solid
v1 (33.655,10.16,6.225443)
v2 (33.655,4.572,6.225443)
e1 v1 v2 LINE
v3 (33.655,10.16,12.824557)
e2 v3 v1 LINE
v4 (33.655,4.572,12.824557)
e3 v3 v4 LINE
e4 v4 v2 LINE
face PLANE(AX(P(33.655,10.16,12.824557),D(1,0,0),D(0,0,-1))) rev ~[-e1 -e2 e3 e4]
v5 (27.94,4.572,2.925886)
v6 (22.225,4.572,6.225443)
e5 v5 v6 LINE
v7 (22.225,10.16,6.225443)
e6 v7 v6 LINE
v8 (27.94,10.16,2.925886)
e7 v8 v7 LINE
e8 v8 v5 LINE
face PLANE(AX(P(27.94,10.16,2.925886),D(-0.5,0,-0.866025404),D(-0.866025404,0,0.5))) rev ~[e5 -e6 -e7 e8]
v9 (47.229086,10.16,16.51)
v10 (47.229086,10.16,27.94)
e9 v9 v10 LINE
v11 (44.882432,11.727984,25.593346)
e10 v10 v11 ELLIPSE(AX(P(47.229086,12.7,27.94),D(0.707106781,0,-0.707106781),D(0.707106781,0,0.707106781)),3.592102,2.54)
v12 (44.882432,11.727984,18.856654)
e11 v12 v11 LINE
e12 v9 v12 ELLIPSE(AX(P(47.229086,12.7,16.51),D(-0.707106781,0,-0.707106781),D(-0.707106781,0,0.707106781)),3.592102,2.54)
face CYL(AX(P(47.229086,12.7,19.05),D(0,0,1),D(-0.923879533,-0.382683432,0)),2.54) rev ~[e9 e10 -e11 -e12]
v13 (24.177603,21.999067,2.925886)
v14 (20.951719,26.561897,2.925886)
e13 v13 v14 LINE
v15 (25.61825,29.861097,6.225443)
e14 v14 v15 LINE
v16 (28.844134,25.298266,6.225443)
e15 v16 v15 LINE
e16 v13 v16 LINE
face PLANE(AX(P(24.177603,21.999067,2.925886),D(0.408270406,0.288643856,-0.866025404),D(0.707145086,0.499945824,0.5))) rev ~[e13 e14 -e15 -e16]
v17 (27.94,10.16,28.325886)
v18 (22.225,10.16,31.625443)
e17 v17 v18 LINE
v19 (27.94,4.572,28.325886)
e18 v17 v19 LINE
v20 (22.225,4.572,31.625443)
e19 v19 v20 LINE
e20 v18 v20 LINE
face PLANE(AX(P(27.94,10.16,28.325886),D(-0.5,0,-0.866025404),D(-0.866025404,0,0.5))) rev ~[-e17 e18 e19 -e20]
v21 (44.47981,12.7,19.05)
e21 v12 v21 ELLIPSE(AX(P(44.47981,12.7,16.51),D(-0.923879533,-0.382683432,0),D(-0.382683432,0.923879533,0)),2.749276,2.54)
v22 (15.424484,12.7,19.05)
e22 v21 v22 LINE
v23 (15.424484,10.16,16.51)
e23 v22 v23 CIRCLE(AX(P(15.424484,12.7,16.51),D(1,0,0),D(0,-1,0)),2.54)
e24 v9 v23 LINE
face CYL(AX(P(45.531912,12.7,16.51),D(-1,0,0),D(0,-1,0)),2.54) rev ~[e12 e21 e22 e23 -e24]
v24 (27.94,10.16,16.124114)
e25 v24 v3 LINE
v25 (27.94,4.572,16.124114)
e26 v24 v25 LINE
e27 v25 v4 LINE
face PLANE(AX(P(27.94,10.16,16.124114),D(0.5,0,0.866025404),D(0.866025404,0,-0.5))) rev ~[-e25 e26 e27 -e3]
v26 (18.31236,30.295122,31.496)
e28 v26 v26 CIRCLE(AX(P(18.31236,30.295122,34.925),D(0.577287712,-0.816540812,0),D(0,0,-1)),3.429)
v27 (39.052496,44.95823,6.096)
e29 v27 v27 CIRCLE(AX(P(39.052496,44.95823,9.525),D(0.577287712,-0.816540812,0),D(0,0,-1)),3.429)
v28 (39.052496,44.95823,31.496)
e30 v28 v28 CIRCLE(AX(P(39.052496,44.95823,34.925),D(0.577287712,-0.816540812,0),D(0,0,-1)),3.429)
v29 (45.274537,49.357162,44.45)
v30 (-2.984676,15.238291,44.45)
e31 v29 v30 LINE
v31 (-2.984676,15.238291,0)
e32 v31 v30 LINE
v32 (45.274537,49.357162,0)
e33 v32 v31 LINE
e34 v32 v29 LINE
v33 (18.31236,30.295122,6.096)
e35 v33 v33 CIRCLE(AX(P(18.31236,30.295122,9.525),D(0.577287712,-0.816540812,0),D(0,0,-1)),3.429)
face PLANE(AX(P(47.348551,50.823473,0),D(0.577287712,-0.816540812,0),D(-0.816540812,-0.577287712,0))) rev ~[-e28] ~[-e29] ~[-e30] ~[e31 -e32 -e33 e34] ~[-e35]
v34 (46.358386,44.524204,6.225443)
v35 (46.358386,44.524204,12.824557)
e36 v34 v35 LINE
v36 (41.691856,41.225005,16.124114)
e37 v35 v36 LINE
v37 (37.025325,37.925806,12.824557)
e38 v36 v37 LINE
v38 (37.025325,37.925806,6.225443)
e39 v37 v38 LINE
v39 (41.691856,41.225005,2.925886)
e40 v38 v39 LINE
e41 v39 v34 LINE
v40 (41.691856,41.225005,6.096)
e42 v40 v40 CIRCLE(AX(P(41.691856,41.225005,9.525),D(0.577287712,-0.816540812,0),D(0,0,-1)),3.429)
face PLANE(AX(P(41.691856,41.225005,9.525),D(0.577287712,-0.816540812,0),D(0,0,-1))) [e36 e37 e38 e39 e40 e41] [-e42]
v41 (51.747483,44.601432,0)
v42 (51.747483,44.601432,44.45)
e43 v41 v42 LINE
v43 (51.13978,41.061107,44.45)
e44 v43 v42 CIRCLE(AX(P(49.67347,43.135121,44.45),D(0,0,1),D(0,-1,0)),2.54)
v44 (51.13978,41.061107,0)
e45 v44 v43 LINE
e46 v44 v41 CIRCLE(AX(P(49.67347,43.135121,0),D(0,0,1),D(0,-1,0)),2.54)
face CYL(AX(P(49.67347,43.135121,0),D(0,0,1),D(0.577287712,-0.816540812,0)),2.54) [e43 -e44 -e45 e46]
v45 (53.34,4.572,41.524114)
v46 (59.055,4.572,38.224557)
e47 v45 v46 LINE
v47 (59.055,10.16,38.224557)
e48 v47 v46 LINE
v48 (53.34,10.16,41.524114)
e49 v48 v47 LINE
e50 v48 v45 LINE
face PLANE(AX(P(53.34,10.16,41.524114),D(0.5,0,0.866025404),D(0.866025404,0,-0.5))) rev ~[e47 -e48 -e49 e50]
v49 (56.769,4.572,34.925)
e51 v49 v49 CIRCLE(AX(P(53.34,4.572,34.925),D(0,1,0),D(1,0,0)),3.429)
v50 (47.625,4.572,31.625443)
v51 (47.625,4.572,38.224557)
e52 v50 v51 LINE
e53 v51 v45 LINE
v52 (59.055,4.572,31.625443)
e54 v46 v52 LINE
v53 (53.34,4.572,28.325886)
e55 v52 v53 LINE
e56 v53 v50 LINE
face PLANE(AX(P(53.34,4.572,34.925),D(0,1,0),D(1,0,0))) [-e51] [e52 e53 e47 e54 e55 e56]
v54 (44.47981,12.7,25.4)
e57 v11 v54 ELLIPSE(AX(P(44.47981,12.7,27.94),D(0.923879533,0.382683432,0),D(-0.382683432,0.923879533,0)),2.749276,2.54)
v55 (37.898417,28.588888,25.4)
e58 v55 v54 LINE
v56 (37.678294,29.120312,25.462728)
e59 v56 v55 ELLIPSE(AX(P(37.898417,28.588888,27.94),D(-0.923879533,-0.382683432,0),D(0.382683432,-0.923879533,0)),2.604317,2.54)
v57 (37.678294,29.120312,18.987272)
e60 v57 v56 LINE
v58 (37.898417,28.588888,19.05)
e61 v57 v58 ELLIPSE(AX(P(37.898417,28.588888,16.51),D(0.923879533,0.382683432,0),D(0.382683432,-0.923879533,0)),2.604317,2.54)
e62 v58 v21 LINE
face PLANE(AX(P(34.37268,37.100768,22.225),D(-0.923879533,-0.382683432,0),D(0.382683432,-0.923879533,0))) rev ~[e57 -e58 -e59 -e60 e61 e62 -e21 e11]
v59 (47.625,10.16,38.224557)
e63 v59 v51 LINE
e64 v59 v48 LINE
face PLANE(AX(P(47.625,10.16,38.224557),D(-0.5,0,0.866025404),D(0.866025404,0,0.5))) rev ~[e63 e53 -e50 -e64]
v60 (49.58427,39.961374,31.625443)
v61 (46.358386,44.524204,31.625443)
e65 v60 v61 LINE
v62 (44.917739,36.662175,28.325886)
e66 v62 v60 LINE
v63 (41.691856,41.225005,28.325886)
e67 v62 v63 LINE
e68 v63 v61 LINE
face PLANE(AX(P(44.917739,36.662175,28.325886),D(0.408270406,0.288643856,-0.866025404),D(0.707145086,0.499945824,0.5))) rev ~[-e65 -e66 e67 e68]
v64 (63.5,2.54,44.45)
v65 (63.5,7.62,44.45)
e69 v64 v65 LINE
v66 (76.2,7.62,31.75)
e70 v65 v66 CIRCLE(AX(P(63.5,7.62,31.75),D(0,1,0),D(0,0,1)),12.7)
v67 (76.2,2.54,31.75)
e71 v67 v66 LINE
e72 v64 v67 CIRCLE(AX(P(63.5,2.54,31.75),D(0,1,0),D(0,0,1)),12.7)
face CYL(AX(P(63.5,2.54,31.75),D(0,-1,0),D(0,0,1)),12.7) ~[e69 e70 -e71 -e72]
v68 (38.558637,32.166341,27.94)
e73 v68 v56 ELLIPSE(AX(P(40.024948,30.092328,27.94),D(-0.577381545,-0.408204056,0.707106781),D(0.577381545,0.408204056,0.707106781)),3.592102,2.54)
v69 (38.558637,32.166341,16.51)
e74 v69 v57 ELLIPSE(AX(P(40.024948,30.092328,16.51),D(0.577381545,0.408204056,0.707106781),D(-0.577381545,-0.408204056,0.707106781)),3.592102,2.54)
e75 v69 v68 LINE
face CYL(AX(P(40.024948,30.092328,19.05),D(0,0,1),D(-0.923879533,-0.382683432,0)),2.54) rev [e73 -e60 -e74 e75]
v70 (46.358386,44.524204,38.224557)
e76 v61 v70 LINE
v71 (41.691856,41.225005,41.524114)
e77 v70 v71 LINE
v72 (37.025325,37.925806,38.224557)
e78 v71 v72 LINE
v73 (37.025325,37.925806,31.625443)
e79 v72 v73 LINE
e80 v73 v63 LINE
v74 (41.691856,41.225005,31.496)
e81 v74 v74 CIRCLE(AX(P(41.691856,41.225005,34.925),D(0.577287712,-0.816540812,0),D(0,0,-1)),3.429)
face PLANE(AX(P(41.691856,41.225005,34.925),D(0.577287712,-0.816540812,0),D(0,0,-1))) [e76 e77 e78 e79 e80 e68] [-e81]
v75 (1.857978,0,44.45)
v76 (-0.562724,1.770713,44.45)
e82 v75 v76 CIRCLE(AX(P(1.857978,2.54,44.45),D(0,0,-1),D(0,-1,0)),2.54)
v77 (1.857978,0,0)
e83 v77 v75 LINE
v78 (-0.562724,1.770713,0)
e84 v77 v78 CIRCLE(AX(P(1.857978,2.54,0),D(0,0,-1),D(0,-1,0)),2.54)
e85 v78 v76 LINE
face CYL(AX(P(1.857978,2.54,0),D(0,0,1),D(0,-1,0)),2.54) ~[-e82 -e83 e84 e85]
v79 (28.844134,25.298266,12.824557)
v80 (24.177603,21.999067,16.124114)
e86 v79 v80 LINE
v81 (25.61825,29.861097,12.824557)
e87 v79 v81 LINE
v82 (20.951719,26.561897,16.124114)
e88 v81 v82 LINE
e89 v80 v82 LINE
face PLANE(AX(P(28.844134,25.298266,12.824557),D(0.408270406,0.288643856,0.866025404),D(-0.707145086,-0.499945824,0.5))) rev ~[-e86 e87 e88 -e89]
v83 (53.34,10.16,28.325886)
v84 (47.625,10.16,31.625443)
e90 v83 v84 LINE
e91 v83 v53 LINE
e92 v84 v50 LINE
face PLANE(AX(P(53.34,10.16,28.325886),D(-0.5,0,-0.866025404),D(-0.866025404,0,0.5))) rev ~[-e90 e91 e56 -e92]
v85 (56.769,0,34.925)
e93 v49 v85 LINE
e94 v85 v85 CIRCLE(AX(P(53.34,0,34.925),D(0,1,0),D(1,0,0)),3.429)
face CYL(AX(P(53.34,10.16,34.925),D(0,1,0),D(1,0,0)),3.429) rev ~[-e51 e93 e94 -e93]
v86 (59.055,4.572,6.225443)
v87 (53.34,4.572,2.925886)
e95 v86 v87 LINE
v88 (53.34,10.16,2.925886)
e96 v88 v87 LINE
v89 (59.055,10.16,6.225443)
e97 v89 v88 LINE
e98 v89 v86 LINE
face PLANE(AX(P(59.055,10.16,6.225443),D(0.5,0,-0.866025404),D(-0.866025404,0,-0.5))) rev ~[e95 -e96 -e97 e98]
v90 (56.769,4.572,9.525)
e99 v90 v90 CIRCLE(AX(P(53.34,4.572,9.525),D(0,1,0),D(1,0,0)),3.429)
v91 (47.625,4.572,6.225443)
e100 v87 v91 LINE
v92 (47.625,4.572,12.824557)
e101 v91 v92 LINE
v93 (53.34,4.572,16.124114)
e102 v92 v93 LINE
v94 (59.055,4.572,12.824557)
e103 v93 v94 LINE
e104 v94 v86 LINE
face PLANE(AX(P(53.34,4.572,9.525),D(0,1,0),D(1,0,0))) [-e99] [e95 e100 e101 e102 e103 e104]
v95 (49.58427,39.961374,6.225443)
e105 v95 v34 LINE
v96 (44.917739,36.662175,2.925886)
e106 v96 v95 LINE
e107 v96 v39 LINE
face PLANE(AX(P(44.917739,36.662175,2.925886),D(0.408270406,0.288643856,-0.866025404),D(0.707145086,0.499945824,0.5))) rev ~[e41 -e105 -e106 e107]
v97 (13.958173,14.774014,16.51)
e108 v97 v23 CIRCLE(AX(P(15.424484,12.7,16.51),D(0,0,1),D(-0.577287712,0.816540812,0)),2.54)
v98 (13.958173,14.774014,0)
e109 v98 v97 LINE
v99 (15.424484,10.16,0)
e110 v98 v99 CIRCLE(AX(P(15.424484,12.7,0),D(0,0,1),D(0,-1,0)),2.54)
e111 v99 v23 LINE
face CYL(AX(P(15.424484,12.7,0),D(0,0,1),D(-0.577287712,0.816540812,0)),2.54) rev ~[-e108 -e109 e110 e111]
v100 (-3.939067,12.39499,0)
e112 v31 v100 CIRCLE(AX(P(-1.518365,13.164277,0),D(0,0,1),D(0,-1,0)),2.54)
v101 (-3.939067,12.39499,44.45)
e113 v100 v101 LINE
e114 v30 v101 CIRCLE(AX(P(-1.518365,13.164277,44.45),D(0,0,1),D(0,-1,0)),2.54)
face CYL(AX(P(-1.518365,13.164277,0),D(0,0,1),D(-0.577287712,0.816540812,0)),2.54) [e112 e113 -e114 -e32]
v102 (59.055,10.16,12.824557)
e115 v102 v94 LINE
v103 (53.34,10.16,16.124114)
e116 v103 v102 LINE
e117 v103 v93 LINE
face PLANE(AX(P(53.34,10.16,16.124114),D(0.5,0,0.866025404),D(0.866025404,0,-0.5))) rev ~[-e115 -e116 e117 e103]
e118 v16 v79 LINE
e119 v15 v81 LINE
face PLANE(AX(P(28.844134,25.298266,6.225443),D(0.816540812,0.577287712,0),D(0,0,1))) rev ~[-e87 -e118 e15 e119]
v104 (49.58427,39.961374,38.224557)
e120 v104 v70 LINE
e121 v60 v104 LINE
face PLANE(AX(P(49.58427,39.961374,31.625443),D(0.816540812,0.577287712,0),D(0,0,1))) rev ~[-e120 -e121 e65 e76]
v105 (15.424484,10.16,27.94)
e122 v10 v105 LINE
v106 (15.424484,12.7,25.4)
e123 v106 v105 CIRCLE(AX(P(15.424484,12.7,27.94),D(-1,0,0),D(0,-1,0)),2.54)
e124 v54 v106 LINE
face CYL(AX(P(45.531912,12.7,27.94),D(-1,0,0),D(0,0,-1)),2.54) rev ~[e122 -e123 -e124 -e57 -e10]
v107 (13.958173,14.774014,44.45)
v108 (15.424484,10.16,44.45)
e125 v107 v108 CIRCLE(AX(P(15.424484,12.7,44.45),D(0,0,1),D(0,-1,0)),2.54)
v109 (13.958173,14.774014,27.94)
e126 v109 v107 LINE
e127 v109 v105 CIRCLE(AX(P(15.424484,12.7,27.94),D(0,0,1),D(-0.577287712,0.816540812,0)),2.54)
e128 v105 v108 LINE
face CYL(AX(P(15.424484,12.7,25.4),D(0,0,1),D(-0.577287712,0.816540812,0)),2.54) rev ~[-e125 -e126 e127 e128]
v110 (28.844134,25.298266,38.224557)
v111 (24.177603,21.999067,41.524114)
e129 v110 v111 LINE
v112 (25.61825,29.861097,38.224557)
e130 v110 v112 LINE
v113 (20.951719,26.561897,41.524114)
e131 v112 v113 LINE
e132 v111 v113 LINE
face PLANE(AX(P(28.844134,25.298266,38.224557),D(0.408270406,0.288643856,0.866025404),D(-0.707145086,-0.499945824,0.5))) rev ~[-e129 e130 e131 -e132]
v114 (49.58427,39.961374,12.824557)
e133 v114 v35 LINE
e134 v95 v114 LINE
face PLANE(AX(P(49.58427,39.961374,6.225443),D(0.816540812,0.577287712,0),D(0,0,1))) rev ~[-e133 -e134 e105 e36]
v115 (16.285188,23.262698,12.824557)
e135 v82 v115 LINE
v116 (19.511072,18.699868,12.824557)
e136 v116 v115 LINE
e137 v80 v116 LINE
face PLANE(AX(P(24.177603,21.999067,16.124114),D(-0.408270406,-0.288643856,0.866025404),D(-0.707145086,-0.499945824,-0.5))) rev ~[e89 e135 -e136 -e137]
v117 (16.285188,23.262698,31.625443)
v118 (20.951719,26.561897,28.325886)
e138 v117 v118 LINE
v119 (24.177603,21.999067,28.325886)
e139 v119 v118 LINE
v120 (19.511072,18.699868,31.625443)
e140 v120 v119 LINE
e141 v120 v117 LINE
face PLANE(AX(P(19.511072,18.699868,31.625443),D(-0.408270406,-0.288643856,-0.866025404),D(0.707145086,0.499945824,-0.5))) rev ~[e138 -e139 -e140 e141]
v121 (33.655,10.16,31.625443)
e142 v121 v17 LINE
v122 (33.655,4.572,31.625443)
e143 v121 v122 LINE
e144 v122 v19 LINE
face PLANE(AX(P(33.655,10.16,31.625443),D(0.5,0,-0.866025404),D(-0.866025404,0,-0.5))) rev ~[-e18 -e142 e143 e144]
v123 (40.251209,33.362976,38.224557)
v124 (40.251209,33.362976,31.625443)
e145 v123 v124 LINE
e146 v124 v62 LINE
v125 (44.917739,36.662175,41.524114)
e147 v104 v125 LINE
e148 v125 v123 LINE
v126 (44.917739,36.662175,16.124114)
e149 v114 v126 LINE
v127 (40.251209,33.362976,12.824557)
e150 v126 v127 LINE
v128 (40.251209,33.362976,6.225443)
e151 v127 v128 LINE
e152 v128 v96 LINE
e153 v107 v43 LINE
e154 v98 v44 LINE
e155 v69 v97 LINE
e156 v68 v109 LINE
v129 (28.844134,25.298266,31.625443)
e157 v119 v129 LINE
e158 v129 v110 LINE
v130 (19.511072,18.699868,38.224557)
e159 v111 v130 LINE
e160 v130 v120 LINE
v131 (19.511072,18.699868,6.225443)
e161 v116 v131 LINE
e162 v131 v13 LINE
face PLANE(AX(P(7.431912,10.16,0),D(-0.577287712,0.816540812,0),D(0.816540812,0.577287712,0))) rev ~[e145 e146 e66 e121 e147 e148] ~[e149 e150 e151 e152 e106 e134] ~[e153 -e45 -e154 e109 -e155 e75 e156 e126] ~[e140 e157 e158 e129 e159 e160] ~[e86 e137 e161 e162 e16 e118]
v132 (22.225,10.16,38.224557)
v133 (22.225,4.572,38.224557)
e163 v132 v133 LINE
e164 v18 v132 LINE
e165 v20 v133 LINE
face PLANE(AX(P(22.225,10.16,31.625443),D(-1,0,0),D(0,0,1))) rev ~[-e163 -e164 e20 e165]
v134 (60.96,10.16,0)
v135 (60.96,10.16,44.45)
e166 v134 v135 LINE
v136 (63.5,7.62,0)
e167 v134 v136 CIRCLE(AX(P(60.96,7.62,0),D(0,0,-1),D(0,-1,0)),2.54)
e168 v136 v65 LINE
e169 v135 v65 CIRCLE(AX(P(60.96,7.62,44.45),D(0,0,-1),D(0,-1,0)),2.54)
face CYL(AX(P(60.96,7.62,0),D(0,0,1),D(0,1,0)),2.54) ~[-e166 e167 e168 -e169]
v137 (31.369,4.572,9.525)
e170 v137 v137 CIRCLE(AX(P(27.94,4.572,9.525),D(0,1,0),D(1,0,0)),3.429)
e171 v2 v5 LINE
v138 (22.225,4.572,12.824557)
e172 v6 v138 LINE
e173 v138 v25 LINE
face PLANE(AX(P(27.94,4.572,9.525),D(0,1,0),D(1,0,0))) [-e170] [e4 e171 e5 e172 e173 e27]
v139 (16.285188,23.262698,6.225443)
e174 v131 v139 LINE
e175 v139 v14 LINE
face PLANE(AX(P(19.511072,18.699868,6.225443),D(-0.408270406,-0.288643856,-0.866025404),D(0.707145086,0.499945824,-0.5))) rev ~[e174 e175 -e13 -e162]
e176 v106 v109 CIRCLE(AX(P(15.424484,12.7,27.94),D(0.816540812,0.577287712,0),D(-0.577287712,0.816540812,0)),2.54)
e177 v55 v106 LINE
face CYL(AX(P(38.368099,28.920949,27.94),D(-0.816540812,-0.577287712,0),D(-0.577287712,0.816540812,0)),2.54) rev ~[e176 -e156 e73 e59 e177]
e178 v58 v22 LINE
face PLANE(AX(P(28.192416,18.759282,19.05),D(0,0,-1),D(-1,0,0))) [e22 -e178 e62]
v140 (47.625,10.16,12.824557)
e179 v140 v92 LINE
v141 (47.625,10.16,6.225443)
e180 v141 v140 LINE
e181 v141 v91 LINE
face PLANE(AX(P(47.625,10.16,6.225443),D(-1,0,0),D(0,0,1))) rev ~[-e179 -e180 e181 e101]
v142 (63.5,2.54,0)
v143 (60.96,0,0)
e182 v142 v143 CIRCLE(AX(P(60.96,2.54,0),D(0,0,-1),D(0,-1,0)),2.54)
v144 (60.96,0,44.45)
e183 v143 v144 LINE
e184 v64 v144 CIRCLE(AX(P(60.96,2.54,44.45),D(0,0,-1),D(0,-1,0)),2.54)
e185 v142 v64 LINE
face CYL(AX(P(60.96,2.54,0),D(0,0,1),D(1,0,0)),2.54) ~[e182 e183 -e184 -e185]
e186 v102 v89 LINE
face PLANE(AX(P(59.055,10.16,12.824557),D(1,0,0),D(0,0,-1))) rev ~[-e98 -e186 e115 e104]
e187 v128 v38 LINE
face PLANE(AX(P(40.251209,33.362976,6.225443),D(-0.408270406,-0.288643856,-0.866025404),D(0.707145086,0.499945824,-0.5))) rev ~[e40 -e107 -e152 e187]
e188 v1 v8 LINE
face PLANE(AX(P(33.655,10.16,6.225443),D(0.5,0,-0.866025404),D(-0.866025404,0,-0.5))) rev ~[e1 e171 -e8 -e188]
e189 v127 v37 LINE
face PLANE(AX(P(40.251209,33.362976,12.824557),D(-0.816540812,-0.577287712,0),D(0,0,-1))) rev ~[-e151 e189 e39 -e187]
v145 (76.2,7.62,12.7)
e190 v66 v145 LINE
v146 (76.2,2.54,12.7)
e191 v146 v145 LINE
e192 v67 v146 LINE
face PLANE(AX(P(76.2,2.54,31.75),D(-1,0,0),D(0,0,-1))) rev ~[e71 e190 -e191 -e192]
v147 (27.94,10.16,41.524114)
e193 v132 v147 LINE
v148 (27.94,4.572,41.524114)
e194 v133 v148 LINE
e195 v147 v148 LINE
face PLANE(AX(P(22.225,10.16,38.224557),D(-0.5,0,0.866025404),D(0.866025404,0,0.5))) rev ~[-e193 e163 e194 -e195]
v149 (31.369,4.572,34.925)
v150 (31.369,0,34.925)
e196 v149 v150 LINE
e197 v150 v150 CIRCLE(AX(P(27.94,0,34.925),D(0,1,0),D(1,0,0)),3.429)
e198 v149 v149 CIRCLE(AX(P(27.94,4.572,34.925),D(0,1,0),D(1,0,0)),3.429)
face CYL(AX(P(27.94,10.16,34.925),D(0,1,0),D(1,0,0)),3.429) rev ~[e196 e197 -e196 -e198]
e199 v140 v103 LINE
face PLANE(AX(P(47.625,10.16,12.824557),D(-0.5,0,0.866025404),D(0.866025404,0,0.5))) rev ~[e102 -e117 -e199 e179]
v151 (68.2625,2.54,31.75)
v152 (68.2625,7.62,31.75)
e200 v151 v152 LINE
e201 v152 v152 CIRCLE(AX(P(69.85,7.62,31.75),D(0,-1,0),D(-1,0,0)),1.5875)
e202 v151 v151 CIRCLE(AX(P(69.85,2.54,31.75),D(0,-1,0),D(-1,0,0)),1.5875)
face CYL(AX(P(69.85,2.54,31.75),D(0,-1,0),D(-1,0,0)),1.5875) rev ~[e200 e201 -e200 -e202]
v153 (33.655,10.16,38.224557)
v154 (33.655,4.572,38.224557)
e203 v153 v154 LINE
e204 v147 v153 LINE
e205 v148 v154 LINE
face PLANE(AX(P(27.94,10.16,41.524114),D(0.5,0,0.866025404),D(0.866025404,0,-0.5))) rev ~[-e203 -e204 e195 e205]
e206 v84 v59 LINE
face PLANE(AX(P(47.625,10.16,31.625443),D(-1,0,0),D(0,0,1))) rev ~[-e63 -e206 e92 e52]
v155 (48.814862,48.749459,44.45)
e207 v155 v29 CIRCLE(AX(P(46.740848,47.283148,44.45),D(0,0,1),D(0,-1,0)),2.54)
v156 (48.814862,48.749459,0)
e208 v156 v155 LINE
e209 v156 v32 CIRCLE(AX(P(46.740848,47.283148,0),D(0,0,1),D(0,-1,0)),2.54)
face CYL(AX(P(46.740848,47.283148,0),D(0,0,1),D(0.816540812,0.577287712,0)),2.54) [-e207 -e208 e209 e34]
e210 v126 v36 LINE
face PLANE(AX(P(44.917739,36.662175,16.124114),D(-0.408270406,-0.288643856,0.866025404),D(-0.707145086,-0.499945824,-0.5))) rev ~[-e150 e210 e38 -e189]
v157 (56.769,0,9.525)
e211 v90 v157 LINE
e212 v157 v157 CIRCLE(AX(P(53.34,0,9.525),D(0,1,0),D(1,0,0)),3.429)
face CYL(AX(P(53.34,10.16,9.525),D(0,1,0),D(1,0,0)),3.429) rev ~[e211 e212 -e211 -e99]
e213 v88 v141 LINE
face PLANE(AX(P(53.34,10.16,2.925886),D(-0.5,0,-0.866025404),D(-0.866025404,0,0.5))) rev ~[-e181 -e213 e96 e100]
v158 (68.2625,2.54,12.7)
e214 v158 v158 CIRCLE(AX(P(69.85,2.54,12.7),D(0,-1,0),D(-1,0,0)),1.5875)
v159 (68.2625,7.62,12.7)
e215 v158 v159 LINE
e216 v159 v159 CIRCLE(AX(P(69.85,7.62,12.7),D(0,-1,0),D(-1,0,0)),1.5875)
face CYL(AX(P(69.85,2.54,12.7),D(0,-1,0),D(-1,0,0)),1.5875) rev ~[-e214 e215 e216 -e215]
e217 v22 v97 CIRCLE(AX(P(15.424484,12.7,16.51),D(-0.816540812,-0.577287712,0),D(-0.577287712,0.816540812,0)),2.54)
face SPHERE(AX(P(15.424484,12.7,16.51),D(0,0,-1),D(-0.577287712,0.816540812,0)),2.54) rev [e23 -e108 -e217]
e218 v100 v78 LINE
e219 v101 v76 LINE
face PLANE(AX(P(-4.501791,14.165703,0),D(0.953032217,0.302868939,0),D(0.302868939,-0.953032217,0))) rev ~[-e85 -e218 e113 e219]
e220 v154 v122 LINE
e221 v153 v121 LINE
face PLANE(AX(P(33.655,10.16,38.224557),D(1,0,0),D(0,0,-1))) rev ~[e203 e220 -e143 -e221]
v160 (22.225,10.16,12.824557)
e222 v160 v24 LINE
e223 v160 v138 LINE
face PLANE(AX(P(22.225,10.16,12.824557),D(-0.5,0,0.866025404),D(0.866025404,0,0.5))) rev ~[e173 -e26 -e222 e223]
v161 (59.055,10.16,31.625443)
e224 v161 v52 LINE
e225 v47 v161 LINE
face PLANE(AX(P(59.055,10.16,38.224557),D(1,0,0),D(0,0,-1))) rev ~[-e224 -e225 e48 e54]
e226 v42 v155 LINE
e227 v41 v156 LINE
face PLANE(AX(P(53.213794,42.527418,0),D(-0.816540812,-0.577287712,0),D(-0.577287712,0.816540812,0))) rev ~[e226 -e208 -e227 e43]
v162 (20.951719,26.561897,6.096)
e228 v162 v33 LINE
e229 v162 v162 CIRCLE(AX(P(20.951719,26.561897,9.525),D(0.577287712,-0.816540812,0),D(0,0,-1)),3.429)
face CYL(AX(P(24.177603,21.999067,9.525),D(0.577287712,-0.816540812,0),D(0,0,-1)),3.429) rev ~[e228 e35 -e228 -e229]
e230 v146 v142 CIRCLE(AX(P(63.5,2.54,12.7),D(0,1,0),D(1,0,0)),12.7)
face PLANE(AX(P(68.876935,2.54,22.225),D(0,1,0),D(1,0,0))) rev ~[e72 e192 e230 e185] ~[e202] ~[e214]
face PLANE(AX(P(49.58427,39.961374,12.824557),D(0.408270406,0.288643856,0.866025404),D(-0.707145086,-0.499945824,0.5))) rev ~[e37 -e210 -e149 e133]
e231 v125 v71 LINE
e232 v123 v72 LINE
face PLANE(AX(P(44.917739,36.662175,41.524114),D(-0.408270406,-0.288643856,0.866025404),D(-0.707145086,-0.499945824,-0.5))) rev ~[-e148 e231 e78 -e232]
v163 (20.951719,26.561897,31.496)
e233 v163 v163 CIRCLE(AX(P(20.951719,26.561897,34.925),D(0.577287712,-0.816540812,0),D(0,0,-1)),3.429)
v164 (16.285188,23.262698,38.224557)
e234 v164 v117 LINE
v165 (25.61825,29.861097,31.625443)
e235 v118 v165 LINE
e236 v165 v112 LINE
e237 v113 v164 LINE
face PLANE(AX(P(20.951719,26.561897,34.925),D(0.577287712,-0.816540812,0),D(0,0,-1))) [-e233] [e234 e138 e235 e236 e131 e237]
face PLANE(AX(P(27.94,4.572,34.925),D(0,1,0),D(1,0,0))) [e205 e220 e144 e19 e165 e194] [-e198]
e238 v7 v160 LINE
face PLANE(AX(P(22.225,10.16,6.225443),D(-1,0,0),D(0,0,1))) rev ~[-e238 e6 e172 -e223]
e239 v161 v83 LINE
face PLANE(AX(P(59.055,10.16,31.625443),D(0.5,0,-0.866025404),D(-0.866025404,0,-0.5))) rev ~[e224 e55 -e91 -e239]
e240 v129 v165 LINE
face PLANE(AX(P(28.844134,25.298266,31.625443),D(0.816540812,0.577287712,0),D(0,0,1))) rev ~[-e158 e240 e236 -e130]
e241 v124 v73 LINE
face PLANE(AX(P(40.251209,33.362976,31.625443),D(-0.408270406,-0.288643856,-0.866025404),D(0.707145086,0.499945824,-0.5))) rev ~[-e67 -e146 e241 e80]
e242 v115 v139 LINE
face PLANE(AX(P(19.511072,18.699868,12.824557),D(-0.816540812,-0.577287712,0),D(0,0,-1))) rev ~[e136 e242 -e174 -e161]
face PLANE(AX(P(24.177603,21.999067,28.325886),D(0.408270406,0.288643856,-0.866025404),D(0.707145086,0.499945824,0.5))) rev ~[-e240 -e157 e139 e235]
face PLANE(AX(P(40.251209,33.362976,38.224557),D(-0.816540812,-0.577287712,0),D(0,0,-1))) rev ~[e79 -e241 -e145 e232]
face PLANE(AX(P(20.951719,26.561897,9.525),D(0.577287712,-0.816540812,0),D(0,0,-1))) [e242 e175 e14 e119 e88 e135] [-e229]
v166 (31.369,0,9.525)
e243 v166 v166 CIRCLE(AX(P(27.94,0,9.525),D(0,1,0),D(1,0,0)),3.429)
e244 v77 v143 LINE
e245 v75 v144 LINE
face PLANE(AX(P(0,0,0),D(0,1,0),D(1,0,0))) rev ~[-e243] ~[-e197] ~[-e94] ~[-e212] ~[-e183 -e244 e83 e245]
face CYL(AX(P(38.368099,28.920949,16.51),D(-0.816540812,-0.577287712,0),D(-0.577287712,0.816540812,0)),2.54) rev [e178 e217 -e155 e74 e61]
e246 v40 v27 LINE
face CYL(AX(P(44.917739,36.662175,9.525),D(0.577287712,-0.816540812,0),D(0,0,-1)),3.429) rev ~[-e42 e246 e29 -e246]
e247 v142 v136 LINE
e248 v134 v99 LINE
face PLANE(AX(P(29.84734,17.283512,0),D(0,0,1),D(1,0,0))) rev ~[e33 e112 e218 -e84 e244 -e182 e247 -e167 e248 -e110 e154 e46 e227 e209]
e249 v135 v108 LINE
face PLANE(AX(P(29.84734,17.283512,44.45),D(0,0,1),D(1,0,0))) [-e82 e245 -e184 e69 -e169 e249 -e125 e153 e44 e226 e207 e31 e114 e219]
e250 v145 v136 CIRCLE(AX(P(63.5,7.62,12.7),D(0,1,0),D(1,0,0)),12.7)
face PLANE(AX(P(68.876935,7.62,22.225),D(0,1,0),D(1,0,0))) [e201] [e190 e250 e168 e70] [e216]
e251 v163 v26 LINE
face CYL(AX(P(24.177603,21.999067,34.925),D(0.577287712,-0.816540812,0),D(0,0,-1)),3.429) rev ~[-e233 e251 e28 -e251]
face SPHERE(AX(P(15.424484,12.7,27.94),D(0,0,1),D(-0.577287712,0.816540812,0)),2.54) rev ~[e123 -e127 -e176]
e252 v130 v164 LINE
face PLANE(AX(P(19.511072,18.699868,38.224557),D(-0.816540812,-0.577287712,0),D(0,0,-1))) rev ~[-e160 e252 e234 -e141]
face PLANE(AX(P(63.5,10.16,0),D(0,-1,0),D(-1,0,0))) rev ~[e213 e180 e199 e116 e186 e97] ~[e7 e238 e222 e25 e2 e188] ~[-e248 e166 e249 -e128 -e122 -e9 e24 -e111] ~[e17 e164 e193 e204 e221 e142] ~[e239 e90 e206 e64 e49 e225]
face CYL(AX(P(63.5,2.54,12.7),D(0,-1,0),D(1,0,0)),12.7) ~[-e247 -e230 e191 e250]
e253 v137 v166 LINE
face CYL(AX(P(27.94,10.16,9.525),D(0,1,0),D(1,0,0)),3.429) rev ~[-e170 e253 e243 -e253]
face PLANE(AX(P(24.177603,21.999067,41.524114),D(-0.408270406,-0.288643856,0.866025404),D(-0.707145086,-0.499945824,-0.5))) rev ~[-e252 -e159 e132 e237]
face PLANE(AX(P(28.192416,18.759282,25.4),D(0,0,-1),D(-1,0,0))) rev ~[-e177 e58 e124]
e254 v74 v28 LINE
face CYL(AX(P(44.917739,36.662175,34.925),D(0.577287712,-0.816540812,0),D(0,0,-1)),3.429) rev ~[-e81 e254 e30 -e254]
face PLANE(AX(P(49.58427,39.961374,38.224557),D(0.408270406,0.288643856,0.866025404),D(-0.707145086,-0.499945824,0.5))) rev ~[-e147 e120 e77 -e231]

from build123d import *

# Parameters (mm, degrees)
BOSS_EXTRUDE1_DEPTH = 44.45
SKETCH2_R           = 3.429
CUT_EXTRUDE1_DEPTH  = 44.45
SKETCH3_R           = 3.429
CUT_EXTRUDE2_DEPTH  = 44.45
CUT_EXTRUDE3_DEPTH  = 5.588
CUT_EXTRUDE4_DEPTH  = 5.588
BOSS_EXTRUDE2_DEPTH = 3.175
FILLET1_R           = 2.54
SKETCH7_R           = 1.5875
BOSS_EXTRUDE3_DEPTH = 5.08


with BuildPart() as part:
    # Sketch1 → Boss-Extrude1 (new body)
    with BuildSketch(Plane.XY):
        Polygon((0, 0), (63.5, 0), (63.5, 10.16), (7.431912016, 10.16), (53.213794099, 42.527418233), (47.348550945, 50.823472882), (-4.50179061, 14.165703165), align=None)
    extrude(amount=BOSS_EXTRUDE1_DEPTH)

    # Sketch2 → Cut-Extrude1 (cut)
    with BuildSketch(Plane(origin=(0, 10.16, 0), x_dir=(1, 0, 0), z_dir=(0, 1, 0))):
        with Locations((53.34, -34.925)):
            Circle(SKETCH2_R)
        with Locations((53.34, -9.525)):
            Circle(SKETCH2_R)
        with Locations((27.94, -9.525)):
            Circle(SKETCH2_R)
        with Locations((27.94, -34.925)):
            Circle(SKETCH2_R)
    extrude(amount=-CUT_EXTRUDE1_DEPTH, mode=Mode.SUBTRACT)

    # Sketch3 → Cut-Extrude2 (cut)
    with BuildSketch(Plane(origin=(-2.312443215, 3.270820114, 0), x_dir=(0, 0, -1), z_dir=(0.577287712, -0.816540812, 0))):
        with Locations((-9.525, 32.44179061)):
            Circle(SKETCH3_R)
        with Locations((-9.525, 57.84179061)):
            Circle(SKETCH3_R)
        with Locations((-34.925, 57.84179061)):
            Circle(SKETCH3_R)
        with Locations((-34.925, 32.44179061)):
            Circle(SKETCH3_R)
    extrude(amount=-CUT_EXTRUDE2_DEPTH, mode=Mode.SUBTRACT)

    # Sketch4 → Cut-Extrude3 (cut)
    with BuildSketch(Plane(origin=(0, 10.16, 0), x_dir=(1, 0, 0), z_dir=(0, 1, 0))):
        Polygon((22.225, -31.625443212), (22.225, -38.224556788), (27.94, -41.524113577), (33.655, -38.224556788), (33.655, -31.625443212), (27.94, -28.325886423), align=None)
        Polygon((47.625, -31.625443212), (47.625, -38.224556788), (53.34, -41.524113577), (59.055, -38.224556788), (59.055, -31.625443212), (53.34, -28.325886423), align=None)
        Polygon((22.225, -6.225443212), (22.225, -12.824556788), (27.94, -16.124113577), (33.655, -12.824556788), (33.655, -6.225443212), (27.94, -2.925886423), align=None)
        Polygon((47.625, -6.225443212), (47.625, -12.824556788), (53.34, -16.124113577), (59.055, -12.824556788), (59.055, -6.225443212), (53.34, -2.925886423), align=None)
    extrude(amount=-CUT_EXTRUDE3_DEPTH, mode=Mode.SUBTRACT)

    # Sketch5 → Cut-Extrude4 (cut)
    with BuildSketch(Plane(origin=(-2.312443215, 3.270820114, 0), x_dir=(0, 0, -1), z_dir=(0.577287712, -0.816540812, 0))):
        Polygon((-2.925886423, 57.84179061), (-6.225443212, 63.55679061), (-12.824556788, 63.55679061), (-16.124113577, 57.84179061), (-12.824556788, 52.12679061), (-6.225443212, 52.12679061), align=None)
        Polygon((-28.325886423, 57.84179061), (-31.625443212, 63.55679061), (-38.224556788, 63.55679061), (-41.524113577, 57.84179061), (-38.224556788, 52.12679061), (-31.625443212, 52.12679061), align=None)
        Polygon((-2.925886423, 32.44179061), (-6.225443212, 38.15679061), (-12.824556788, 38.15679061), (-16.124113577, 32.44179061), (-12.824556788, 26.72679061), (-6.225443212, 26.72679061), align=None)
        Polygon((-28.325886423, 32.44179061), (-31.625443212, 38.15679061), (-38.224556788, 38.15679061), (-41.524113577, 32.44179061), (-38.224556788, 26.72679061), (-31.625443212, 26.72679061), align=None)
    extrude(amount=-CUT_EXTRUDE4_DEPTH, mode=Mode.SUBTRACT)

    # Sketch6 → Boss-Extrude2 (add, symmetric)
    with BuildSketch(Plane.XY.offset(22.225)):
        Polygon((7.431912016, 10.16), (34.372680379, 37.100768363), (45.531912016, 10.16), align=None)
    extrude(amount=BOSS_EXTRUDE2_DEPTH, both=True)

    # Fillet1
    fillet1_edges = [part.edges().sort_by_distance(p)[0] for p in [
        (-4.50179061, 14.165703165, 22.225),
        (47.348550945, 50.823472882, 22.225),
        (53.213794099, 42.527418233, 22.225),
        (7.431912016, 10.16, 34.925),
        (63.5, 10.16, 22.225),
        (63.5, 0, 22.225),
        (0, 0, 22.225),
        (7.431912016, 10.16, 9.525),
        (22.166849982, 20.577481285, 19.05),
        (36.901787948, 30.99496257, 22.225),
        (22.166849982, 20.577481285, 25.4),
        (45.531912016, 10.16, 22.225),
        (26.481912016, 10.16, 25.4),
        (26.481912016, 10.16, 19.05),
    ]]
    fillet(fillet1_edges, radius=FILLET1_R)

    # Sketch7 → Boss-Extrude3 (add)
    with BuildSketch(Plane(origin=(0, 2.54, 0), x_dir=(-1, 0, 0), z_dir=(0, -1, 0))):
        with BuildLine():
            Line((-63.5, 0), (-63.5, -44.45))
            ThreePointArc((-63.5, -44.45), (-72.480256121, -40.730256121), (-76.2, -31.75))
            Line((-76.2, -31.75), (-76.2, -12.7))
            ThreePointArc((-76.2, -12.7), (-72.480256121, -3.719743879), (-63.5, 0))
        make_face()
        with Locations((-69.85, -12.7)):
            Circle(SKETCH7_R, mode=Mode.SUBTRACT)
        with Locations((-69.85, -31.75)):
            Circle(SKETCH7_R, mode=Mode.SUBTRACT)
    extrude(amount=-BOSS_EXTRUDE3_DEPTH)


solid = part.part
